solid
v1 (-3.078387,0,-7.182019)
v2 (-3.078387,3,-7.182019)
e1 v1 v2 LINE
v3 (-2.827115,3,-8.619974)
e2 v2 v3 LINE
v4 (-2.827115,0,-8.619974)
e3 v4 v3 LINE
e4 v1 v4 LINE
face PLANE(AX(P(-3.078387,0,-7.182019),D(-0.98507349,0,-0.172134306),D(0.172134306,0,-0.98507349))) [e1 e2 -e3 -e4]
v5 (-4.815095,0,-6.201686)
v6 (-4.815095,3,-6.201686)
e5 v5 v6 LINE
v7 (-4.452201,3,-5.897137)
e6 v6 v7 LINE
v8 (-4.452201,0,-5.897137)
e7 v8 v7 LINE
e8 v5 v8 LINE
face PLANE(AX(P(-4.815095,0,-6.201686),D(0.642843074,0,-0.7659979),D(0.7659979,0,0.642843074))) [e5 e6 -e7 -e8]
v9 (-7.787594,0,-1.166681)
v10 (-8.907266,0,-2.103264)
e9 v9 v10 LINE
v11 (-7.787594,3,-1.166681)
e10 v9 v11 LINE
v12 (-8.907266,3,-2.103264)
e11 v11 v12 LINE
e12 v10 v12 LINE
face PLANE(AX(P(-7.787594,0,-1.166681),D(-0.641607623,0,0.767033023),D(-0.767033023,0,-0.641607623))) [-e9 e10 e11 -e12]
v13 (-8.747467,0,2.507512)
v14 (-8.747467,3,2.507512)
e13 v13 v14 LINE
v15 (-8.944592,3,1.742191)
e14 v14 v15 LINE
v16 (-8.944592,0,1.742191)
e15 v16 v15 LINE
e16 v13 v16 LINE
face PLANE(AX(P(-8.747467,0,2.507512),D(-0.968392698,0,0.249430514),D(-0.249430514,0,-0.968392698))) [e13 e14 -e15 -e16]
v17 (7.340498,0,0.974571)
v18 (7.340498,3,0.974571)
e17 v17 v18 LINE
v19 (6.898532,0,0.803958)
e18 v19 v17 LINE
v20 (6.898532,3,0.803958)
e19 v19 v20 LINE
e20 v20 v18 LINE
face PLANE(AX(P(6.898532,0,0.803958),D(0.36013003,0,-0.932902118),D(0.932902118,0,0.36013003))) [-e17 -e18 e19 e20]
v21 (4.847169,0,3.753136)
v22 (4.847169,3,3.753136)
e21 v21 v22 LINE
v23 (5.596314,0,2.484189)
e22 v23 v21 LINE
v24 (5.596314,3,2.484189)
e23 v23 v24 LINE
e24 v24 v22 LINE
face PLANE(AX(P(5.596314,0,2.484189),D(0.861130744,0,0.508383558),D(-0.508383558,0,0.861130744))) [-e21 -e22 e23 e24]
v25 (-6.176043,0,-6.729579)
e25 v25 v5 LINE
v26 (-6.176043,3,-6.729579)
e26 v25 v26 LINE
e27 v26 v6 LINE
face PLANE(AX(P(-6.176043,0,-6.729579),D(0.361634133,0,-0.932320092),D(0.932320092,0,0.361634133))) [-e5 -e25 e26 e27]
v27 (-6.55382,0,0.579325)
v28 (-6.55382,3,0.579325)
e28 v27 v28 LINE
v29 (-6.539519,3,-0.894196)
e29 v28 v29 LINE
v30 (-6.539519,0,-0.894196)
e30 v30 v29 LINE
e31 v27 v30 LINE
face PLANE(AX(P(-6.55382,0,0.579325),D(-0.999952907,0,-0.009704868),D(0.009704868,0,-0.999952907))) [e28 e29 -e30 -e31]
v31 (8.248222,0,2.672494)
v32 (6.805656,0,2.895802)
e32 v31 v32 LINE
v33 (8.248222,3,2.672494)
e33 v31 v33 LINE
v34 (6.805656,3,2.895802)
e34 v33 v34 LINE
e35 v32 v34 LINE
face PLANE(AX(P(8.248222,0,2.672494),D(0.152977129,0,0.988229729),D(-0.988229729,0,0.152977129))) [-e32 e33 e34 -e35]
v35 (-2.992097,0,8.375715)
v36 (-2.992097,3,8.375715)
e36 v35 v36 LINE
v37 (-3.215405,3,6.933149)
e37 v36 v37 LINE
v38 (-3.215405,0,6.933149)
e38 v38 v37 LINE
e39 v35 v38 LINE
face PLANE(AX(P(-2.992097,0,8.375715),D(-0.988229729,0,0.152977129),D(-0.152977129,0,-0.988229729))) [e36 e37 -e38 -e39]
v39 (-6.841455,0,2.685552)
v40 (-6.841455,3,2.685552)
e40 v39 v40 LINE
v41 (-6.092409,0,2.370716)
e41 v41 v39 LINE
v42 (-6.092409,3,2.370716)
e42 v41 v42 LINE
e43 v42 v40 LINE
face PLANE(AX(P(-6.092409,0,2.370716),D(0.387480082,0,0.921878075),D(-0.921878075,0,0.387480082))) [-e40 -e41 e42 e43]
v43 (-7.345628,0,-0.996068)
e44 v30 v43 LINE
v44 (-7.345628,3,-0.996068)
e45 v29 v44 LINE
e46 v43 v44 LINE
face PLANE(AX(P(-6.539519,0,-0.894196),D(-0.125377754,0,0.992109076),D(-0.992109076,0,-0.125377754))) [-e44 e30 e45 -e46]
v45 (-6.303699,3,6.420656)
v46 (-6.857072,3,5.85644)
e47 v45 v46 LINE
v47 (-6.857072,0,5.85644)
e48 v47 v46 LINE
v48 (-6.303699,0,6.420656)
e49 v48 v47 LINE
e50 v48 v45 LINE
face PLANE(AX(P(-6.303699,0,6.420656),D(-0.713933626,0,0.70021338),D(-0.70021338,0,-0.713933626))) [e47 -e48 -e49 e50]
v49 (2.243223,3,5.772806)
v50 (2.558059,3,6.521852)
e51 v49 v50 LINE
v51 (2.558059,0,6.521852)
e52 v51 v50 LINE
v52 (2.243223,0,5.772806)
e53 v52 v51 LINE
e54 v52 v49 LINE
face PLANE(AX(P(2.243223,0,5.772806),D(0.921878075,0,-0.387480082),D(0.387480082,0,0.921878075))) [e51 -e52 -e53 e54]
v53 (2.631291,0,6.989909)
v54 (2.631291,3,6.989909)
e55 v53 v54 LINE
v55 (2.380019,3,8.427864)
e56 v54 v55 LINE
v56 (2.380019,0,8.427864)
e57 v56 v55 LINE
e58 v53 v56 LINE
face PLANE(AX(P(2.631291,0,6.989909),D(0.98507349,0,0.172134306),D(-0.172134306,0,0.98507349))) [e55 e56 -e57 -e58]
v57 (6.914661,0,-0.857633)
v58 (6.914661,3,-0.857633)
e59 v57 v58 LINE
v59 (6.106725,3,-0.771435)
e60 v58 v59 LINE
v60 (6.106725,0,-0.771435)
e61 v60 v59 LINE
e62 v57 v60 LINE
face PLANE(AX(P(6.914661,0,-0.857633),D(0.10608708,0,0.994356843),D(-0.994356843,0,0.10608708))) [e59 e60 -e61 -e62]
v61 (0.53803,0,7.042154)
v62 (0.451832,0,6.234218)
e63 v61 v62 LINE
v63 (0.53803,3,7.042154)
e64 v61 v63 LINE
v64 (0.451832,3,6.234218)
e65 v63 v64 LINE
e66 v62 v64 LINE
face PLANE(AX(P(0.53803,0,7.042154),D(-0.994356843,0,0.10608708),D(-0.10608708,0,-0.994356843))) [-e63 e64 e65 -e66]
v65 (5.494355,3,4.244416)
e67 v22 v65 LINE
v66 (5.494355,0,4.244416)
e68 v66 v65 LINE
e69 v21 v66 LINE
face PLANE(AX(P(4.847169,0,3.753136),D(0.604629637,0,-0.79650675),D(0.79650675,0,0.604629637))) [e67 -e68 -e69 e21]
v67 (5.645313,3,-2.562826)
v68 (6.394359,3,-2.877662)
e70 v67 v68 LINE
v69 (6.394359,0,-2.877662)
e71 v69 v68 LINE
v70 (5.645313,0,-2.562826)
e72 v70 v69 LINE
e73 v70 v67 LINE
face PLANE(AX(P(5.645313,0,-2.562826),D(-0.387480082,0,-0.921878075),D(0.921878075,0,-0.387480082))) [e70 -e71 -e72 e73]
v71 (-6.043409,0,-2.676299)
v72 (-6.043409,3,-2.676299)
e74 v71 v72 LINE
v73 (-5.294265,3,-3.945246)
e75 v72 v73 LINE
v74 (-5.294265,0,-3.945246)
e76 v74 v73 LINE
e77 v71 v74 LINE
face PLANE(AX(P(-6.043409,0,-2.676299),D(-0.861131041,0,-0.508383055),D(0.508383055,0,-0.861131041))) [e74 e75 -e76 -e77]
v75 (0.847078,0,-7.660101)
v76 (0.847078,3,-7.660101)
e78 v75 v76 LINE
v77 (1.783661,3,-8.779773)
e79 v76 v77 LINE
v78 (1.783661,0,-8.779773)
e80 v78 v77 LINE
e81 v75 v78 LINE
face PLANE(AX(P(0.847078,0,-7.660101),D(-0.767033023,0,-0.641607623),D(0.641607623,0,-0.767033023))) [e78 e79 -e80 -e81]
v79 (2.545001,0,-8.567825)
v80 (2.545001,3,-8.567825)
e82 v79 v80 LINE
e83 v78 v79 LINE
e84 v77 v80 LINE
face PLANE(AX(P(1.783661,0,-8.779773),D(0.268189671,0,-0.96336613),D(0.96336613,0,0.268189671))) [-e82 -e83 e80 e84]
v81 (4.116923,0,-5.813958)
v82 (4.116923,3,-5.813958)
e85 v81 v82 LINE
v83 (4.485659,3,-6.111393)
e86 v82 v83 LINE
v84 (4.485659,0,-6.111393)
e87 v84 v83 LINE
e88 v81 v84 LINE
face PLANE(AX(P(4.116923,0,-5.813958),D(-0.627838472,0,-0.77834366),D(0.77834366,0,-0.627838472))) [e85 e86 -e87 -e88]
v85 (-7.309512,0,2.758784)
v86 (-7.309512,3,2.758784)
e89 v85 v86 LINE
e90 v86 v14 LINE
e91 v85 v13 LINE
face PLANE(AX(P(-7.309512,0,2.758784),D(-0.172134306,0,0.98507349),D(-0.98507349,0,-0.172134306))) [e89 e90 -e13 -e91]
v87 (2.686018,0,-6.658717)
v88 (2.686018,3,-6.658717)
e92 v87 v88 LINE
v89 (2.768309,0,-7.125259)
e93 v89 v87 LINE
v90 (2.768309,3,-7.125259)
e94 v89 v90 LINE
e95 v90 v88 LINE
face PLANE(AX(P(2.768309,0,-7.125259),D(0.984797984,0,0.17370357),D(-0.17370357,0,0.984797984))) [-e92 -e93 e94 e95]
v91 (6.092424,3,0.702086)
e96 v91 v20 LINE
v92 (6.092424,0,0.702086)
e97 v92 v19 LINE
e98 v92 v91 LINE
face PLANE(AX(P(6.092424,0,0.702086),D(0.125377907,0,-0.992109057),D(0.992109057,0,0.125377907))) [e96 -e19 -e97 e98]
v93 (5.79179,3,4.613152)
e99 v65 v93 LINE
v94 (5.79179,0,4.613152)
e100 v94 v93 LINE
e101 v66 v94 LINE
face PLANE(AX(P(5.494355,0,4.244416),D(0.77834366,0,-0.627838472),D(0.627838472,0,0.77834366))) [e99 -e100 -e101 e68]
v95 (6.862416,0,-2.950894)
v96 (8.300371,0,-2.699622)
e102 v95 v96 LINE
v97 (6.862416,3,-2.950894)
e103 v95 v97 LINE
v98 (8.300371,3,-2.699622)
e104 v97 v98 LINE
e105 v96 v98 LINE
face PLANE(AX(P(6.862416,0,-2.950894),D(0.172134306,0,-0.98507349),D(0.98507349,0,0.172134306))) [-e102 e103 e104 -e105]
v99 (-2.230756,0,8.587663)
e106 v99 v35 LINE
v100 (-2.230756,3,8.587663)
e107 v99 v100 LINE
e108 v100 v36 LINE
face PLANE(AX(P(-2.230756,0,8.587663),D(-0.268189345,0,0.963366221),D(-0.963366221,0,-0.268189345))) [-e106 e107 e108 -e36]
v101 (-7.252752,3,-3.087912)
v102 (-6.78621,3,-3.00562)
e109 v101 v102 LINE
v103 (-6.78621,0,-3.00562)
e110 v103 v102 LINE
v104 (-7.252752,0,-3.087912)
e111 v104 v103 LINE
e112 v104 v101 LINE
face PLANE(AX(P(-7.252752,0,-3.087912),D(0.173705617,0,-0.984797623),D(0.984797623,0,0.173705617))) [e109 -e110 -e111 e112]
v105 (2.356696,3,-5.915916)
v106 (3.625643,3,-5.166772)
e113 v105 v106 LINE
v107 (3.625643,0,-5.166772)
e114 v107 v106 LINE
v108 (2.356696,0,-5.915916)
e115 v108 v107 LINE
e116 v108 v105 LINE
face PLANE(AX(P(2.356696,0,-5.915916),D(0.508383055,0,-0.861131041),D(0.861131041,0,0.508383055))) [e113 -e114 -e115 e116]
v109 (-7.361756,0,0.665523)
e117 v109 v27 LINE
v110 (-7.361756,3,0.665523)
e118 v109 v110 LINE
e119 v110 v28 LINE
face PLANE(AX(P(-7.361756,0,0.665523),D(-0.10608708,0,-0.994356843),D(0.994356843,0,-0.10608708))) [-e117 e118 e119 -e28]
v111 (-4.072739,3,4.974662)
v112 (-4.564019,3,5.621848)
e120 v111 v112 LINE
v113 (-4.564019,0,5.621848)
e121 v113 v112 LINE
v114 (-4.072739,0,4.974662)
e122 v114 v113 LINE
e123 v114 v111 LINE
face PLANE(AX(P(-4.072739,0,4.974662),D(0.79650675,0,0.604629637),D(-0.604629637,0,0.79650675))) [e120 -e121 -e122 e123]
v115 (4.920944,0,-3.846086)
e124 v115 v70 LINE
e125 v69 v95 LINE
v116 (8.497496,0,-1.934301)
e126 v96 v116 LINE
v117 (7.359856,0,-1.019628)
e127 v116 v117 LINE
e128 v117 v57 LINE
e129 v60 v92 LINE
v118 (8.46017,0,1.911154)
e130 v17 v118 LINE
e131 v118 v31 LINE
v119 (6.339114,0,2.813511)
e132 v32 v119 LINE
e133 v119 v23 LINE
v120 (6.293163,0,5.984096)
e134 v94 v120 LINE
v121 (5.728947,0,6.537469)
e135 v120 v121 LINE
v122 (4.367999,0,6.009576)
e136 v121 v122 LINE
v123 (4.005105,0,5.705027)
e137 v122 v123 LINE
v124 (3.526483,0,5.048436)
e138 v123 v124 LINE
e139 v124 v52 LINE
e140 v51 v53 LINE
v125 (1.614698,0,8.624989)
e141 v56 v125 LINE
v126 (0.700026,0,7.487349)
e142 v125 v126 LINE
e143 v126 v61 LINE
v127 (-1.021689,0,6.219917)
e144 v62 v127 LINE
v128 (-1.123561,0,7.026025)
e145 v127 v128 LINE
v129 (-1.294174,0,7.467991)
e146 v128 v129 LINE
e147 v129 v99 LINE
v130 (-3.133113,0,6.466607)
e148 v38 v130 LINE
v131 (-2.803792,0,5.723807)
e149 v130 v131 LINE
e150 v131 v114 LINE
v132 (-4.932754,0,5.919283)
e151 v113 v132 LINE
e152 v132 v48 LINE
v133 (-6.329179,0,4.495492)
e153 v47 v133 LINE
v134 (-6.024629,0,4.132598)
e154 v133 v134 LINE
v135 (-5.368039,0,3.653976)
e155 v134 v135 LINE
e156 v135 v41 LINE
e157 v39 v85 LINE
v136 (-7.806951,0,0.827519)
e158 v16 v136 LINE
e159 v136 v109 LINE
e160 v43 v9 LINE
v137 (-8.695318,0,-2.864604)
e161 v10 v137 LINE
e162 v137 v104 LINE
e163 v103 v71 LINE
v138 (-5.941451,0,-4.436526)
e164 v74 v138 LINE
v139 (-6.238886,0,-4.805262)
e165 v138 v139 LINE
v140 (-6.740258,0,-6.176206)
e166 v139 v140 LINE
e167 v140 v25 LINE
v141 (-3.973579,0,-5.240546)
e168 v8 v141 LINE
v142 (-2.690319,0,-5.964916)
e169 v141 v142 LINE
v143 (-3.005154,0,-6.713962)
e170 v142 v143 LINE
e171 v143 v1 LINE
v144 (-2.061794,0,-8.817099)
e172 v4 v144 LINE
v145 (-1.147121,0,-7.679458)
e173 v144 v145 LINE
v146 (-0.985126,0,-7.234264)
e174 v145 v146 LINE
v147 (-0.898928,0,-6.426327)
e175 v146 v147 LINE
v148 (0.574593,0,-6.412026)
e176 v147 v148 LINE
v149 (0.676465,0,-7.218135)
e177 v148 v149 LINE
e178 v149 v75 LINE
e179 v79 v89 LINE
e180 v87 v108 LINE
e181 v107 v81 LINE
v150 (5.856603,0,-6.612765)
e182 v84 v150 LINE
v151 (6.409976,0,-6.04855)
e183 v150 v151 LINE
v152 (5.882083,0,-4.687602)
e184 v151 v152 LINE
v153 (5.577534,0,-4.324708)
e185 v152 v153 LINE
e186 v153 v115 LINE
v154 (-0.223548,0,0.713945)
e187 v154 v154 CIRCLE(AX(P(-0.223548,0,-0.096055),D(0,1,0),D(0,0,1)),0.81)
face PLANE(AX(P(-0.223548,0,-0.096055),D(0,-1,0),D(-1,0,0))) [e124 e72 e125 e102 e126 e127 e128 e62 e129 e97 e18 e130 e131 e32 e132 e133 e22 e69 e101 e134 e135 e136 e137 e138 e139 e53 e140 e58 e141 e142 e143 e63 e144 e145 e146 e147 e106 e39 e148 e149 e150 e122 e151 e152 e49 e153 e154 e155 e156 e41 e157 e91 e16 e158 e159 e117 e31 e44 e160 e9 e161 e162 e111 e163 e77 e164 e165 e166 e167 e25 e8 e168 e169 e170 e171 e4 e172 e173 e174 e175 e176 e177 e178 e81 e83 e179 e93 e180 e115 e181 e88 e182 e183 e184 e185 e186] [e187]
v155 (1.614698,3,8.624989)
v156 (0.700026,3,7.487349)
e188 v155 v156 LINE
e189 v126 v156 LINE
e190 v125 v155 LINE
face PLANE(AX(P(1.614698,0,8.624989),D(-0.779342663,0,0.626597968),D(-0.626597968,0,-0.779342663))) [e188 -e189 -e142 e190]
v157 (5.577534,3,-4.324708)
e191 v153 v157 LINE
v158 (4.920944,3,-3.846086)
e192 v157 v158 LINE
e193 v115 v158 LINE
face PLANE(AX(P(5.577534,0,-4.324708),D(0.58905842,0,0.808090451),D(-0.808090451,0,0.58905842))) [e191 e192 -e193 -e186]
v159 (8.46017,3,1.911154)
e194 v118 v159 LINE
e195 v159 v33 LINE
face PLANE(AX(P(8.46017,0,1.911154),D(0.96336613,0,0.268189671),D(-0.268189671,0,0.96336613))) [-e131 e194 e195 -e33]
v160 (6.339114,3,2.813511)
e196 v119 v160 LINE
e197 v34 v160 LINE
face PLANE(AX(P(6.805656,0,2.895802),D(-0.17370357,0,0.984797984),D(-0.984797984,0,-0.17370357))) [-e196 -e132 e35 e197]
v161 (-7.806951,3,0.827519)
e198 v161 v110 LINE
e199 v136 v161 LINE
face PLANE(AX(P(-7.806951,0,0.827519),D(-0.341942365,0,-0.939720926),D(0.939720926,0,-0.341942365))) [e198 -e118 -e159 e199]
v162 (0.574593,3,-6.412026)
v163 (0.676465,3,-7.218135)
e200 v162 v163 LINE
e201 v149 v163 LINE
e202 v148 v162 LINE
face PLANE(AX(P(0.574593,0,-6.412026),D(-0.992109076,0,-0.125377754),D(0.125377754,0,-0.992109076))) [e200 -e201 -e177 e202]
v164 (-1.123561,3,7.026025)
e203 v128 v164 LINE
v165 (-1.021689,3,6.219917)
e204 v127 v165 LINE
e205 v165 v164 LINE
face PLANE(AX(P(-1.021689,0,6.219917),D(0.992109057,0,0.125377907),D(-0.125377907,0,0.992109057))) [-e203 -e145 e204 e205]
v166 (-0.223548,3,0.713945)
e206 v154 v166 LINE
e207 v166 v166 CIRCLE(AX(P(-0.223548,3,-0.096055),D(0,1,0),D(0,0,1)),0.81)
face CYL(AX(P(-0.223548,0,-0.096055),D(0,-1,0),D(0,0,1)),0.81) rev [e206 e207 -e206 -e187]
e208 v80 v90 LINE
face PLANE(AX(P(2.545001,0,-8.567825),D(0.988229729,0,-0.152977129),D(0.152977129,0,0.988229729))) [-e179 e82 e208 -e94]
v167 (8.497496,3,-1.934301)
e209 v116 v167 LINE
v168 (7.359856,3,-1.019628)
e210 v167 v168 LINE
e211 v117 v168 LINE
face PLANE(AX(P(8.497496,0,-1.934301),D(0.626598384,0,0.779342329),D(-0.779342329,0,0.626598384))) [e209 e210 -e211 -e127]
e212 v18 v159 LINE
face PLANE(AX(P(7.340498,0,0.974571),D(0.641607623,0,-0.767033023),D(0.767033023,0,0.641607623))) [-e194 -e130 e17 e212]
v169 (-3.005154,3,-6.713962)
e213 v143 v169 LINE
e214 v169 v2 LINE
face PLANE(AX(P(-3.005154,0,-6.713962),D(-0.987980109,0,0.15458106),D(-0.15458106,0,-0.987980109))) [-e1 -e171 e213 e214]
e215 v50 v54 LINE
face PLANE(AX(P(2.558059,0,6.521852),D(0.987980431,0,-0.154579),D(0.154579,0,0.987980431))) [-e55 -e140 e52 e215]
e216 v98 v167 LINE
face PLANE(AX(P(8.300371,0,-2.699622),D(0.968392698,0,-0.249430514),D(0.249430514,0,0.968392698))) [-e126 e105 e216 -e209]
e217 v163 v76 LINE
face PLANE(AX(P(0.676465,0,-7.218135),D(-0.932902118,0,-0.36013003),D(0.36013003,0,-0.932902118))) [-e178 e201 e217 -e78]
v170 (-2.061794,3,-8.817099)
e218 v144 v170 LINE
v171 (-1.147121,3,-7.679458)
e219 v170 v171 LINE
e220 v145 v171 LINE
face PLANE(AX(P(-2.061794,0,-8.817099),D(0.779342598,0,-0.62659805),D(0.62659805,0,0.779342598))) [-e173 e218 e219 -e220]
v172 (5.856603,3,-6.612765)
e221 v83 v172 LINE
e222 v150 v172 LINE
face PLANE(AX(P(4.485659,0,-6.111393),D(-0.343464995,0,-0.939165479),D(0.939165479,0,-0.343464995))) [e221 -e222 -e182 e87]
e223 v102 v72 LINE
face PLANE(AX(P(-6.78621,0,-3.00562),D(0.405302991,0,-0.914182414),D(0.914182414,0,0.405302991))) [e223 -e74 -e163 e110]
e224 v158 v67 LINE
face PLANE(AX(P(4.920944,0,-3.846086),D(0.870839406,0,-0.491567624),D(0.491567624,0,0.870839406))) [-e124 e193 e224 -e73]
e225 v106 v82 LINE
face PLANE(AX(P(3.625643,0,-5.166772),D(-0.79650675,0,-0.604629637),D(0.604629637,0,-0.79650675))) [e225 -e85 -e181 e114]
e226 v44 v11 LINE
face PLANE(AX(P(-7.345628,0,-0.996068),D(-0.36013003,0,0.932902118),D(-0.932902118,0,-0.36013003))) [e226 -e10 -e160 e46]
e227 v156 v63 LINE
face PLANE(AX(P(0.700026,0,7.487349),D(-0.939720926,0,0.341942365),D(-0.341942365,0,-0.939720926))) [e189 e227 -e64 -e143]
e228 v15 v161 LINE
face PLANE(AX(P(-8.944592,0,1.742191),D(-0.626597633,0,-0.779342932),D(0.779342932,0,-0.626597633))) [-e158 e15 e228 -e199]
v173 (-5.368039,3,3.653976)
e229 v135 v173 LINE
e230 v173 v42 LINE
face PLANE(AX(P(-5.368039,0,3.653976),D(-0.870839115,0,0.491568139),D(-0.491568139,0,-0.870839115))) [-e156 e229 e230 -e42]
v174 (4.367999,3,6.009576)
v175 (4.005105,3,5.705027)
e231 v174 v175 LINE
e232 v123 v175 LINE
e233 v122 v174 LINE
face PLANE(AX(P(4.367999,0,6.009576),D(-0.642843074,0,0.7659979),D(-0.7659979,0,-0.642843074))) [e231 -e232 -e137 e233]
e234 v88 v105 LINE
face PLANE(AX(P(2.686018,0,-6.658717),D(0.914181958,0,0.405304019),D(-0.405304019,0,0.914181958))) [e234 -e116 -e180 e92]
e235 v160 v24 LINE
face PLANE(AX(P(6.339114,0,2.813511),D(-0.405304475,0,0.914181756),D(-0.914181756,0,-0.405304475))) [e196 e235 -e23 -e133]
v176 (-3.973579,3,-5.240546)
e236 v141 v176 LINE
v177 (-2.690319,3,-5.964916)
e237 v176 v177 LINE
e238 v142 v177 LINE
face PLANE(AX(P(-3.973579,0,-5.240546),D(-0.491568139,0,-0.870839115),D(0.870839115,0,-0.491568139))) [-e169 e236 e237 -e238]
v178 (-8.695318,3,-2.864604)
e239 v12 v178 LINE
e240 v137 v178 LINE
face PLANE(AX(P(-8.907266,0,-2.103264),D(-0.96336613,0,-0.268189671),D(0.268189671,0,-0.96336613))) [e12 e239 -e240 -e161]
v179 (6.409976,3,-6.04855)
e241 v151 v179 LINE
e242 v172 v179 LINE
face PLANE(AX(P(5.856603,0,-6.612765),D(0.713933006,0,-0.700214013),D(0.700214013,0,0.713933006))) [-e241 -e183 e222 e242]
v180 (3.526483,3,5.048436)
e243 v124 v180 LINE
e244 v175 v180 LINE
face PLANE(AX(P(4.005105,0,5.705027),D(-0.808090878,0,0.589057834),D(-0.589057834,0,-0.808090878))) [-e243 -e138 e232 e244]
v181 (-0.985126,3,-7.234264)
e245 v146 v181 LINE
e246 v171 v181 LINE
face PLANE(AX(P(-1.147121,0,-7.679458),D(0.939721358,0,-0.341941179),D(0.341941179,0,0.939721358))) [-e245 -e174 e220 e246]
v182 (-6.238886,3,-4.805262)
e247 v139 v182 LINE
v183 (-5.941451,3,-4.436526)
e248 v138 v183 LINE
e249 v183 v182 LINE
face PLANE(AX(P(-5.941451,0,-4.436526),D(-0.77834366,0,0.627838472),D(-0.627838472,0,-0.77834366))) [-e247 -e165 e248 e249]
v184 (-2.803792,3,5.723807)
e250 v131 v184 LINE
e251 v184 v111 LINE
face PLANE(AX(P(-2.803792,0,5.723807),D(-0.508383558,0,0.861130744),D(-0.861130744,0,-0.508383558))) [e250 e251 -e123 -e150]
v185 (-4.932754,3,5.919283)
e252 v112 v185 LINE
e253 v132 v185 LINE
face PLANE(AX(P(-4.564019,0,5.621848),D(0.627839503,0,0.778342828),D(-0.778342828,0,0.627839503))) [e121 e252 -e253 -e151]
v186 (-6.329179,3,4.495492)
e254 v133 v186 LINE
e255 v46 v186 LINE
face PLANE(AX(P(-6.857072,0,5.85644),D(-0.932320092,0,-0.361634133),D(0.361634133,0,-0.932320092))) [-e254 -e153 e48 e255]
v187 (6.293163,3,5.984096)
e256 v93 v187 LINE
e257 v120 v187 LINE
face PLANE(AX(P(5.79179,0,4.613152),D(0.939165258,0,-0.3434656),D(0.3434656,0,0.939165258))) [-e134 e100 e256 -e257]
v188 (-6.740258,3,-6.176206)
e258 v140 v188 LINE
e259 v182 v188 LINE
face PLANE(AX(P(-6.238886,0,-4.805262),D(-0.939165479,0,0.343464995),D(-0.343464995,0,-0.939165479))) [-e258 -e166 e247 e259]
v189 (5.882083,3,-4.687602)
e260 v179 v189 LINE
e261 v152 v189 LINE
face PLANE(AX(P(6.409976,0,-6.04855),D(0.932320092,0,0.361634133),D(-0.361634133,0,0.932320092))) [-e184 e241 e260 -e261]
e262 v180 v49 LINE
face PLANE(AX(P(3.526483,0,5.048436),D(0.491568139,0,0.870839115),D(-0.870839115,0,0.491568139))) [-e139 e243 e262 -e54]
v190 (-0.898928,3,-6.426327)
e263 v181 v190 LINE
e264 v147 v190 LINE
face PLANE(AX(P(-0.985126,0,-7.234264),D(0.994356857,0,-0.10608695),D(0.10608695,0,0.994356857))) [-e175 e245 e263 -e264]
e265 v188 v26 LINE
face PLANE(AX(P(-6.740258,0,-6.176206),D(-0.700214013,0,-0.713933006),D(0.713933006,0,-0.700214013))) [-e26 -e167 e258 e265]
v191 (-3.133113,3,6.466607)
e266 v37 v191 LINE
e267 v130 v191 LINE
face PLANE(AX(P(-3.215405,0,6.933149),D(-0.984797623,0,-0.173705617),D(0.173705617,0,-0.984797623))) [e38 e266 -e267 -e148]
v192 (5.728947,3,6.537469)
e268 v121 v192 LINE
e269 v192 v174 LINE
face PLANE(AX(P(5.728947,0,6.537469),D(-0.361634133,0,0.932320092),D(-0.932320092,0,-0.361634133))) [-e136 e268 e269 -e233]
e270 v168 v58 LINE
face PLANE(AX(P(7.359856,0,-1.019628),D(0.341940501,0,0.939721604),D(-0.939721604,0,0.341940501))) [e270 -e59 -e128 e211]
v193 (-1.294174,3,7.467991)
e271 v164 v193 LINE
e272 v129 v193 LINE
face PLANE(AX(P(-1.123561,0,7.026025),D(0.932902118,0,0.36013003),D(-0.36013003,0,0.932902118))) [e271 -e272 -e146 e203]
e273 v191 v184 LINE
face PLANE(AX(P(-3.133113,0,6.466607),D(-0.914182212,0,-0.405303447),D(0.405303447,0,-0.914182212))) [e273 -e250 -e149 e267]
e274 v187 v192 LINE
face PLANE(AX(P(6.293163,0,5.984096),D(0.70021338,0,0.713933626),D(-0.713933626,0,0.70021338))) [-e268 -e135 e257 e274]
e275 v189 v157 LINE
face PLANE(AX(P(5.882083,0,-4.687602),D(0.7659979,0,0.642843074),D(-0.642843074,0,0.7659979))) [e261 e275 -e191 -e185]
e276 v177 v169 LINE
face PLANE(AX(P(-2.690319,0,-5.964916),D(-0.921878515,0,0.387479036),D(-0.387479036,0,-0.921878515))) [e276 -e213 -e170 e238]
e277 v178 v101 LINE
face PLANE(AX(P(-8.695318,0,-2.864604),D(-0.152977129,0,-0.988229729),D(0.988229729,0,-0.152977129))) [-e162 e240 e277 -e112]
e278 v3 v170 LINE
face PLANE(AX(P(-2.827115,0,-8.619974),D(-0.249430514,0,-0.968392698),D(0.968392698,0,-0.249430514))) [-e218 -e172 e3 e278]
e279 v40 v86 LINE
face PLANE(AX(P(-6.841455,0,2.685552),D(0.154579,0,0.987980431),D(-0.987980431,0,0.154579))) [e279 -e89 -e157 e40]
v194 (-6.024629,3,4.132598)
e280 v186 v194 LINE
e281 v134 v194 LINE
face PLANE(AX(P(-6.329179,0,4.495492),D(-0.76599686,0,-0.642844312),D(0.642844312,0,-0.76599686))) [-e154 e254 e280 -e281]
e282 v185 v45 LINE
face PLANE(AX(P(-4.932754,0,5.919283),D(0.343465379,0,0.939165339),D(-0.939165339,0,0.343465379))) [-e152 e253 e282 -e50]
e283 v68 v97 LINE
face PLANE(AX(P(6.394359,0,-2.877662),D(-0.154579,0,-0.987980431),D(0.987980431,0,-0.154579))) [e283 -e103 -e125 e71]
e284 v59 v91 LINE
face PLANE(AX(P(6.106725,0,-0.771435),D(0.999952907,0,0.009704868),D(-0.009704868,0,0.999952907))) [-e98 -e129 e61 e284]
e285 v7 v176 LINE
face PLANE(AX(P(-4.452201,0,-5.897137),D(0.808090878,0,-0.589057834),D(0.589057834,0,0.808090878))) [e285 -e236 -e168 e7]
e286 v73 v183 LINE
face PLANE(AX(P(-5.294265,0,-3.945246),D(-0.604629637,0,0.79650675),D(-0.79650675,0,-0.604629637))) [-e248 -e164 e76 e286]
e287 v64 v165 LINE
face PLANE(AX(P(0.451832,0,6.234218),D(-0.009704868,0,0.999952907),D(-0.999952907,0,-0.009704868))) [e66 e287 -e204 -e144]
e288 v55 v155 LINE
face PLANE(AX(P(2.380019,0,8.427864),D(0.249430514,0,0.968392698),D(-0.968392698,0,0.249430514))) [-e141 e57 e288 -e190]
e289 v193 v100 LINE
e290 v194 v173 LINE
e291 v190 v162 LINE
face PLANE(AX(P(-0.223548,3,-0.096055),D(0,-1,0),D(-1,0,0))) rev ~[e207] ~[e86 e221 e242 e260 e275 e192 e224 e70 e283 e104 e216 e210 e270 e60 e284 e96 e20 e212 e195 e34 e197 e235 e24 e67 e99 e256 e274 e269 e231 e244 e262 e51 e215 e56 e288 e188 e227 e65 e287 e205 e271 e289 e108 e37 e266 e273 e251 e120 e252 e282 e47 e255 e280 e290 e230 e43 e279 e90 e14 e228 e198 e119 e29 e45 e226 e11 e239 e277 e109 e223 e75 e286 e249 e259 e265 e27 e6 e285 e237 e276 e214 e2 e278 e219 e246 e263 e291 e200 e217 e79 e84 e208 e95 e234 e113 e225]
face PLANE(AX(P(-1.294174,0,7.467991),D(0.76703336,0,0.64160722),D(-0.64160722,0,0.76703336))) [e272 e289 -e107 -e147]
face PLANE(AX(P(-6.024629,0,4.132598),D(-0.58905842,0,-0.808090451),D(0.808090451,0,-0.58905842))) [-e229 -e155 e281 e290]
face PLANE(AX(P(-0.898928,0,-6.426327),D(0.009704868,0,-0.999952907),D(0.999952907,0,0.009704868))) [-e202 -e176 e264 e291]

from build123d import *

# Parameters (mm, degrees)
SKETCH1_R           = 0.81
BOSS_EXTRUDE1_DEPTH = 3


with BuildPart() as part:
    # Sketch1 → Boss-Extrude1 (new body)
    with BuildSketch(Plane(origin=(0, 0, 0), x_dir=(1, 0, 0), z_dir=(0, 1, 0))):
        Polygon((5.6453129, 2.562826463), (6.3943589, 2.877662463), (6.8624159, 2.950894463), (8.3003709, 2.699622463), (8.4974959, 1.934301463), (7.3598559, 1.019628463), (6.9146609, 0.857633463), (6.1067249, 0.771435463), (6.0924239, -0.702085537), (6.8985319, -0.803957537), (7.3404979, -0.974570537), (8.4601699, -1.911153537), (8.2482219, -2.672493537), (6.8056559, -2.895801537), (6.3391139, -2.813510537), (5.5963139, -2.484188537), (4.8471689, -3.753135537), (5.4943549, -4.244415537), (5.7917899, -4.613151537), (6.2931629, -5.984095537), (5.7289469, -6.537468537), (4.3679989, -6.009575537), (4.0051049, -5.705026537), (3.5264829, -5.048435537), (2.2432229, -5.772805537), (2.5580589, -6.521851537), (2.6312909, -6.989908537), (2.3800189, -8.427863537), (1.6146979, -8.624988537), (0.7000259, -7.487348537), (0.5380299, -7.042153537), (0.4518319, -6.234217537), (-1.0216891, -6.219916537), (-1.1235611, -7.026024537), (-1.2941741, -7.467990537), (-2.2307561, -8.587662537), (-2.9920971, -8.375714537), (-3.2154051, -6.933148537), (-3.1331131, -6.466606537), (-2.8037921, -5.723806537), (-4.0727391, -4.974661537), (-4.5640191, -5.621847537), (-4.9327541, -5.919282537), (-6.3036991, -6.420655537), (-6.8570721, -5.856439537), (-6.3291791, -4.495491537), (-6.0246291, -4.132597537), (-5.3680391, -3.653975537), (-6.0924091, -2.370715537), (-6.8414551, -2.685551537), (-7.3095121, -2.758783537), (-8.7474671, -2.507511537), (-8.9445921, -1.742190537), (-7.8069511, -0.827518537), (-7.3617561, -0.665522537), (-6.5538201, -0.579324537), (-6.5395191, 0.894196463), (-7.3456281, 0.996068463), (-7.7875941, 1.166681463), (-8.9072661, 2.103264463), (-8.6953181, 2.864604463), (-7.2527521, 3.087912463), (-6.7862101, 3.005620463), (-6.0434091, 2.676299463), (-5.2942651, 3.945246463), (-5.9414511, 4.436526463), (-6.2388861, 4.805262463), (-6.7402581, 6.176206463), (-6.1760431, 6.729579463), (-4.8150951, 6.201686463), (-4.4522011, 5.897137463), (-3.9735791, 5.240546463), (-2.6903191, 5.964916463), (-3.0051541, 6.713962463), (-3.0783871, 7.182019463), (-2.8271151, 8.619974463), (-2.0617941, 8.817099463), (-1.1471211, 7.679458463), (-0.9851261, 7.234264463), (-0.8989281, 6.426327463), (0.5745929, 6.412026463), (0.6764649, 7.218135463), (0.8470779, 7.660101463), (1.7836609, 8.779773463), (2.5450009, 8.567825463), (2.7683089, 7.125259463), (2.6860179, 6.658717463), (2.3566959, 5.915916463), (3.6256429, 5.166772463), (4.1169229, 5.813958463), (4.4856589, 6.111393463), (5.8566029, 6.612765463), (6.4099759, 6.048550463), (5.8820829, 4.687602463), (5.5775339, 4.324708463), (4.9209439, 3.846086463), align=None)
        with Locations(Location((-0.2235476, 0.096055463, 0), (0, 0, 270))):
            Circle(SKETCH1_R, mode=Mode.SUBTRACT)
    extrude(amount=BOSS_EXTRUDE1_DEPTH)


solid = part.part
